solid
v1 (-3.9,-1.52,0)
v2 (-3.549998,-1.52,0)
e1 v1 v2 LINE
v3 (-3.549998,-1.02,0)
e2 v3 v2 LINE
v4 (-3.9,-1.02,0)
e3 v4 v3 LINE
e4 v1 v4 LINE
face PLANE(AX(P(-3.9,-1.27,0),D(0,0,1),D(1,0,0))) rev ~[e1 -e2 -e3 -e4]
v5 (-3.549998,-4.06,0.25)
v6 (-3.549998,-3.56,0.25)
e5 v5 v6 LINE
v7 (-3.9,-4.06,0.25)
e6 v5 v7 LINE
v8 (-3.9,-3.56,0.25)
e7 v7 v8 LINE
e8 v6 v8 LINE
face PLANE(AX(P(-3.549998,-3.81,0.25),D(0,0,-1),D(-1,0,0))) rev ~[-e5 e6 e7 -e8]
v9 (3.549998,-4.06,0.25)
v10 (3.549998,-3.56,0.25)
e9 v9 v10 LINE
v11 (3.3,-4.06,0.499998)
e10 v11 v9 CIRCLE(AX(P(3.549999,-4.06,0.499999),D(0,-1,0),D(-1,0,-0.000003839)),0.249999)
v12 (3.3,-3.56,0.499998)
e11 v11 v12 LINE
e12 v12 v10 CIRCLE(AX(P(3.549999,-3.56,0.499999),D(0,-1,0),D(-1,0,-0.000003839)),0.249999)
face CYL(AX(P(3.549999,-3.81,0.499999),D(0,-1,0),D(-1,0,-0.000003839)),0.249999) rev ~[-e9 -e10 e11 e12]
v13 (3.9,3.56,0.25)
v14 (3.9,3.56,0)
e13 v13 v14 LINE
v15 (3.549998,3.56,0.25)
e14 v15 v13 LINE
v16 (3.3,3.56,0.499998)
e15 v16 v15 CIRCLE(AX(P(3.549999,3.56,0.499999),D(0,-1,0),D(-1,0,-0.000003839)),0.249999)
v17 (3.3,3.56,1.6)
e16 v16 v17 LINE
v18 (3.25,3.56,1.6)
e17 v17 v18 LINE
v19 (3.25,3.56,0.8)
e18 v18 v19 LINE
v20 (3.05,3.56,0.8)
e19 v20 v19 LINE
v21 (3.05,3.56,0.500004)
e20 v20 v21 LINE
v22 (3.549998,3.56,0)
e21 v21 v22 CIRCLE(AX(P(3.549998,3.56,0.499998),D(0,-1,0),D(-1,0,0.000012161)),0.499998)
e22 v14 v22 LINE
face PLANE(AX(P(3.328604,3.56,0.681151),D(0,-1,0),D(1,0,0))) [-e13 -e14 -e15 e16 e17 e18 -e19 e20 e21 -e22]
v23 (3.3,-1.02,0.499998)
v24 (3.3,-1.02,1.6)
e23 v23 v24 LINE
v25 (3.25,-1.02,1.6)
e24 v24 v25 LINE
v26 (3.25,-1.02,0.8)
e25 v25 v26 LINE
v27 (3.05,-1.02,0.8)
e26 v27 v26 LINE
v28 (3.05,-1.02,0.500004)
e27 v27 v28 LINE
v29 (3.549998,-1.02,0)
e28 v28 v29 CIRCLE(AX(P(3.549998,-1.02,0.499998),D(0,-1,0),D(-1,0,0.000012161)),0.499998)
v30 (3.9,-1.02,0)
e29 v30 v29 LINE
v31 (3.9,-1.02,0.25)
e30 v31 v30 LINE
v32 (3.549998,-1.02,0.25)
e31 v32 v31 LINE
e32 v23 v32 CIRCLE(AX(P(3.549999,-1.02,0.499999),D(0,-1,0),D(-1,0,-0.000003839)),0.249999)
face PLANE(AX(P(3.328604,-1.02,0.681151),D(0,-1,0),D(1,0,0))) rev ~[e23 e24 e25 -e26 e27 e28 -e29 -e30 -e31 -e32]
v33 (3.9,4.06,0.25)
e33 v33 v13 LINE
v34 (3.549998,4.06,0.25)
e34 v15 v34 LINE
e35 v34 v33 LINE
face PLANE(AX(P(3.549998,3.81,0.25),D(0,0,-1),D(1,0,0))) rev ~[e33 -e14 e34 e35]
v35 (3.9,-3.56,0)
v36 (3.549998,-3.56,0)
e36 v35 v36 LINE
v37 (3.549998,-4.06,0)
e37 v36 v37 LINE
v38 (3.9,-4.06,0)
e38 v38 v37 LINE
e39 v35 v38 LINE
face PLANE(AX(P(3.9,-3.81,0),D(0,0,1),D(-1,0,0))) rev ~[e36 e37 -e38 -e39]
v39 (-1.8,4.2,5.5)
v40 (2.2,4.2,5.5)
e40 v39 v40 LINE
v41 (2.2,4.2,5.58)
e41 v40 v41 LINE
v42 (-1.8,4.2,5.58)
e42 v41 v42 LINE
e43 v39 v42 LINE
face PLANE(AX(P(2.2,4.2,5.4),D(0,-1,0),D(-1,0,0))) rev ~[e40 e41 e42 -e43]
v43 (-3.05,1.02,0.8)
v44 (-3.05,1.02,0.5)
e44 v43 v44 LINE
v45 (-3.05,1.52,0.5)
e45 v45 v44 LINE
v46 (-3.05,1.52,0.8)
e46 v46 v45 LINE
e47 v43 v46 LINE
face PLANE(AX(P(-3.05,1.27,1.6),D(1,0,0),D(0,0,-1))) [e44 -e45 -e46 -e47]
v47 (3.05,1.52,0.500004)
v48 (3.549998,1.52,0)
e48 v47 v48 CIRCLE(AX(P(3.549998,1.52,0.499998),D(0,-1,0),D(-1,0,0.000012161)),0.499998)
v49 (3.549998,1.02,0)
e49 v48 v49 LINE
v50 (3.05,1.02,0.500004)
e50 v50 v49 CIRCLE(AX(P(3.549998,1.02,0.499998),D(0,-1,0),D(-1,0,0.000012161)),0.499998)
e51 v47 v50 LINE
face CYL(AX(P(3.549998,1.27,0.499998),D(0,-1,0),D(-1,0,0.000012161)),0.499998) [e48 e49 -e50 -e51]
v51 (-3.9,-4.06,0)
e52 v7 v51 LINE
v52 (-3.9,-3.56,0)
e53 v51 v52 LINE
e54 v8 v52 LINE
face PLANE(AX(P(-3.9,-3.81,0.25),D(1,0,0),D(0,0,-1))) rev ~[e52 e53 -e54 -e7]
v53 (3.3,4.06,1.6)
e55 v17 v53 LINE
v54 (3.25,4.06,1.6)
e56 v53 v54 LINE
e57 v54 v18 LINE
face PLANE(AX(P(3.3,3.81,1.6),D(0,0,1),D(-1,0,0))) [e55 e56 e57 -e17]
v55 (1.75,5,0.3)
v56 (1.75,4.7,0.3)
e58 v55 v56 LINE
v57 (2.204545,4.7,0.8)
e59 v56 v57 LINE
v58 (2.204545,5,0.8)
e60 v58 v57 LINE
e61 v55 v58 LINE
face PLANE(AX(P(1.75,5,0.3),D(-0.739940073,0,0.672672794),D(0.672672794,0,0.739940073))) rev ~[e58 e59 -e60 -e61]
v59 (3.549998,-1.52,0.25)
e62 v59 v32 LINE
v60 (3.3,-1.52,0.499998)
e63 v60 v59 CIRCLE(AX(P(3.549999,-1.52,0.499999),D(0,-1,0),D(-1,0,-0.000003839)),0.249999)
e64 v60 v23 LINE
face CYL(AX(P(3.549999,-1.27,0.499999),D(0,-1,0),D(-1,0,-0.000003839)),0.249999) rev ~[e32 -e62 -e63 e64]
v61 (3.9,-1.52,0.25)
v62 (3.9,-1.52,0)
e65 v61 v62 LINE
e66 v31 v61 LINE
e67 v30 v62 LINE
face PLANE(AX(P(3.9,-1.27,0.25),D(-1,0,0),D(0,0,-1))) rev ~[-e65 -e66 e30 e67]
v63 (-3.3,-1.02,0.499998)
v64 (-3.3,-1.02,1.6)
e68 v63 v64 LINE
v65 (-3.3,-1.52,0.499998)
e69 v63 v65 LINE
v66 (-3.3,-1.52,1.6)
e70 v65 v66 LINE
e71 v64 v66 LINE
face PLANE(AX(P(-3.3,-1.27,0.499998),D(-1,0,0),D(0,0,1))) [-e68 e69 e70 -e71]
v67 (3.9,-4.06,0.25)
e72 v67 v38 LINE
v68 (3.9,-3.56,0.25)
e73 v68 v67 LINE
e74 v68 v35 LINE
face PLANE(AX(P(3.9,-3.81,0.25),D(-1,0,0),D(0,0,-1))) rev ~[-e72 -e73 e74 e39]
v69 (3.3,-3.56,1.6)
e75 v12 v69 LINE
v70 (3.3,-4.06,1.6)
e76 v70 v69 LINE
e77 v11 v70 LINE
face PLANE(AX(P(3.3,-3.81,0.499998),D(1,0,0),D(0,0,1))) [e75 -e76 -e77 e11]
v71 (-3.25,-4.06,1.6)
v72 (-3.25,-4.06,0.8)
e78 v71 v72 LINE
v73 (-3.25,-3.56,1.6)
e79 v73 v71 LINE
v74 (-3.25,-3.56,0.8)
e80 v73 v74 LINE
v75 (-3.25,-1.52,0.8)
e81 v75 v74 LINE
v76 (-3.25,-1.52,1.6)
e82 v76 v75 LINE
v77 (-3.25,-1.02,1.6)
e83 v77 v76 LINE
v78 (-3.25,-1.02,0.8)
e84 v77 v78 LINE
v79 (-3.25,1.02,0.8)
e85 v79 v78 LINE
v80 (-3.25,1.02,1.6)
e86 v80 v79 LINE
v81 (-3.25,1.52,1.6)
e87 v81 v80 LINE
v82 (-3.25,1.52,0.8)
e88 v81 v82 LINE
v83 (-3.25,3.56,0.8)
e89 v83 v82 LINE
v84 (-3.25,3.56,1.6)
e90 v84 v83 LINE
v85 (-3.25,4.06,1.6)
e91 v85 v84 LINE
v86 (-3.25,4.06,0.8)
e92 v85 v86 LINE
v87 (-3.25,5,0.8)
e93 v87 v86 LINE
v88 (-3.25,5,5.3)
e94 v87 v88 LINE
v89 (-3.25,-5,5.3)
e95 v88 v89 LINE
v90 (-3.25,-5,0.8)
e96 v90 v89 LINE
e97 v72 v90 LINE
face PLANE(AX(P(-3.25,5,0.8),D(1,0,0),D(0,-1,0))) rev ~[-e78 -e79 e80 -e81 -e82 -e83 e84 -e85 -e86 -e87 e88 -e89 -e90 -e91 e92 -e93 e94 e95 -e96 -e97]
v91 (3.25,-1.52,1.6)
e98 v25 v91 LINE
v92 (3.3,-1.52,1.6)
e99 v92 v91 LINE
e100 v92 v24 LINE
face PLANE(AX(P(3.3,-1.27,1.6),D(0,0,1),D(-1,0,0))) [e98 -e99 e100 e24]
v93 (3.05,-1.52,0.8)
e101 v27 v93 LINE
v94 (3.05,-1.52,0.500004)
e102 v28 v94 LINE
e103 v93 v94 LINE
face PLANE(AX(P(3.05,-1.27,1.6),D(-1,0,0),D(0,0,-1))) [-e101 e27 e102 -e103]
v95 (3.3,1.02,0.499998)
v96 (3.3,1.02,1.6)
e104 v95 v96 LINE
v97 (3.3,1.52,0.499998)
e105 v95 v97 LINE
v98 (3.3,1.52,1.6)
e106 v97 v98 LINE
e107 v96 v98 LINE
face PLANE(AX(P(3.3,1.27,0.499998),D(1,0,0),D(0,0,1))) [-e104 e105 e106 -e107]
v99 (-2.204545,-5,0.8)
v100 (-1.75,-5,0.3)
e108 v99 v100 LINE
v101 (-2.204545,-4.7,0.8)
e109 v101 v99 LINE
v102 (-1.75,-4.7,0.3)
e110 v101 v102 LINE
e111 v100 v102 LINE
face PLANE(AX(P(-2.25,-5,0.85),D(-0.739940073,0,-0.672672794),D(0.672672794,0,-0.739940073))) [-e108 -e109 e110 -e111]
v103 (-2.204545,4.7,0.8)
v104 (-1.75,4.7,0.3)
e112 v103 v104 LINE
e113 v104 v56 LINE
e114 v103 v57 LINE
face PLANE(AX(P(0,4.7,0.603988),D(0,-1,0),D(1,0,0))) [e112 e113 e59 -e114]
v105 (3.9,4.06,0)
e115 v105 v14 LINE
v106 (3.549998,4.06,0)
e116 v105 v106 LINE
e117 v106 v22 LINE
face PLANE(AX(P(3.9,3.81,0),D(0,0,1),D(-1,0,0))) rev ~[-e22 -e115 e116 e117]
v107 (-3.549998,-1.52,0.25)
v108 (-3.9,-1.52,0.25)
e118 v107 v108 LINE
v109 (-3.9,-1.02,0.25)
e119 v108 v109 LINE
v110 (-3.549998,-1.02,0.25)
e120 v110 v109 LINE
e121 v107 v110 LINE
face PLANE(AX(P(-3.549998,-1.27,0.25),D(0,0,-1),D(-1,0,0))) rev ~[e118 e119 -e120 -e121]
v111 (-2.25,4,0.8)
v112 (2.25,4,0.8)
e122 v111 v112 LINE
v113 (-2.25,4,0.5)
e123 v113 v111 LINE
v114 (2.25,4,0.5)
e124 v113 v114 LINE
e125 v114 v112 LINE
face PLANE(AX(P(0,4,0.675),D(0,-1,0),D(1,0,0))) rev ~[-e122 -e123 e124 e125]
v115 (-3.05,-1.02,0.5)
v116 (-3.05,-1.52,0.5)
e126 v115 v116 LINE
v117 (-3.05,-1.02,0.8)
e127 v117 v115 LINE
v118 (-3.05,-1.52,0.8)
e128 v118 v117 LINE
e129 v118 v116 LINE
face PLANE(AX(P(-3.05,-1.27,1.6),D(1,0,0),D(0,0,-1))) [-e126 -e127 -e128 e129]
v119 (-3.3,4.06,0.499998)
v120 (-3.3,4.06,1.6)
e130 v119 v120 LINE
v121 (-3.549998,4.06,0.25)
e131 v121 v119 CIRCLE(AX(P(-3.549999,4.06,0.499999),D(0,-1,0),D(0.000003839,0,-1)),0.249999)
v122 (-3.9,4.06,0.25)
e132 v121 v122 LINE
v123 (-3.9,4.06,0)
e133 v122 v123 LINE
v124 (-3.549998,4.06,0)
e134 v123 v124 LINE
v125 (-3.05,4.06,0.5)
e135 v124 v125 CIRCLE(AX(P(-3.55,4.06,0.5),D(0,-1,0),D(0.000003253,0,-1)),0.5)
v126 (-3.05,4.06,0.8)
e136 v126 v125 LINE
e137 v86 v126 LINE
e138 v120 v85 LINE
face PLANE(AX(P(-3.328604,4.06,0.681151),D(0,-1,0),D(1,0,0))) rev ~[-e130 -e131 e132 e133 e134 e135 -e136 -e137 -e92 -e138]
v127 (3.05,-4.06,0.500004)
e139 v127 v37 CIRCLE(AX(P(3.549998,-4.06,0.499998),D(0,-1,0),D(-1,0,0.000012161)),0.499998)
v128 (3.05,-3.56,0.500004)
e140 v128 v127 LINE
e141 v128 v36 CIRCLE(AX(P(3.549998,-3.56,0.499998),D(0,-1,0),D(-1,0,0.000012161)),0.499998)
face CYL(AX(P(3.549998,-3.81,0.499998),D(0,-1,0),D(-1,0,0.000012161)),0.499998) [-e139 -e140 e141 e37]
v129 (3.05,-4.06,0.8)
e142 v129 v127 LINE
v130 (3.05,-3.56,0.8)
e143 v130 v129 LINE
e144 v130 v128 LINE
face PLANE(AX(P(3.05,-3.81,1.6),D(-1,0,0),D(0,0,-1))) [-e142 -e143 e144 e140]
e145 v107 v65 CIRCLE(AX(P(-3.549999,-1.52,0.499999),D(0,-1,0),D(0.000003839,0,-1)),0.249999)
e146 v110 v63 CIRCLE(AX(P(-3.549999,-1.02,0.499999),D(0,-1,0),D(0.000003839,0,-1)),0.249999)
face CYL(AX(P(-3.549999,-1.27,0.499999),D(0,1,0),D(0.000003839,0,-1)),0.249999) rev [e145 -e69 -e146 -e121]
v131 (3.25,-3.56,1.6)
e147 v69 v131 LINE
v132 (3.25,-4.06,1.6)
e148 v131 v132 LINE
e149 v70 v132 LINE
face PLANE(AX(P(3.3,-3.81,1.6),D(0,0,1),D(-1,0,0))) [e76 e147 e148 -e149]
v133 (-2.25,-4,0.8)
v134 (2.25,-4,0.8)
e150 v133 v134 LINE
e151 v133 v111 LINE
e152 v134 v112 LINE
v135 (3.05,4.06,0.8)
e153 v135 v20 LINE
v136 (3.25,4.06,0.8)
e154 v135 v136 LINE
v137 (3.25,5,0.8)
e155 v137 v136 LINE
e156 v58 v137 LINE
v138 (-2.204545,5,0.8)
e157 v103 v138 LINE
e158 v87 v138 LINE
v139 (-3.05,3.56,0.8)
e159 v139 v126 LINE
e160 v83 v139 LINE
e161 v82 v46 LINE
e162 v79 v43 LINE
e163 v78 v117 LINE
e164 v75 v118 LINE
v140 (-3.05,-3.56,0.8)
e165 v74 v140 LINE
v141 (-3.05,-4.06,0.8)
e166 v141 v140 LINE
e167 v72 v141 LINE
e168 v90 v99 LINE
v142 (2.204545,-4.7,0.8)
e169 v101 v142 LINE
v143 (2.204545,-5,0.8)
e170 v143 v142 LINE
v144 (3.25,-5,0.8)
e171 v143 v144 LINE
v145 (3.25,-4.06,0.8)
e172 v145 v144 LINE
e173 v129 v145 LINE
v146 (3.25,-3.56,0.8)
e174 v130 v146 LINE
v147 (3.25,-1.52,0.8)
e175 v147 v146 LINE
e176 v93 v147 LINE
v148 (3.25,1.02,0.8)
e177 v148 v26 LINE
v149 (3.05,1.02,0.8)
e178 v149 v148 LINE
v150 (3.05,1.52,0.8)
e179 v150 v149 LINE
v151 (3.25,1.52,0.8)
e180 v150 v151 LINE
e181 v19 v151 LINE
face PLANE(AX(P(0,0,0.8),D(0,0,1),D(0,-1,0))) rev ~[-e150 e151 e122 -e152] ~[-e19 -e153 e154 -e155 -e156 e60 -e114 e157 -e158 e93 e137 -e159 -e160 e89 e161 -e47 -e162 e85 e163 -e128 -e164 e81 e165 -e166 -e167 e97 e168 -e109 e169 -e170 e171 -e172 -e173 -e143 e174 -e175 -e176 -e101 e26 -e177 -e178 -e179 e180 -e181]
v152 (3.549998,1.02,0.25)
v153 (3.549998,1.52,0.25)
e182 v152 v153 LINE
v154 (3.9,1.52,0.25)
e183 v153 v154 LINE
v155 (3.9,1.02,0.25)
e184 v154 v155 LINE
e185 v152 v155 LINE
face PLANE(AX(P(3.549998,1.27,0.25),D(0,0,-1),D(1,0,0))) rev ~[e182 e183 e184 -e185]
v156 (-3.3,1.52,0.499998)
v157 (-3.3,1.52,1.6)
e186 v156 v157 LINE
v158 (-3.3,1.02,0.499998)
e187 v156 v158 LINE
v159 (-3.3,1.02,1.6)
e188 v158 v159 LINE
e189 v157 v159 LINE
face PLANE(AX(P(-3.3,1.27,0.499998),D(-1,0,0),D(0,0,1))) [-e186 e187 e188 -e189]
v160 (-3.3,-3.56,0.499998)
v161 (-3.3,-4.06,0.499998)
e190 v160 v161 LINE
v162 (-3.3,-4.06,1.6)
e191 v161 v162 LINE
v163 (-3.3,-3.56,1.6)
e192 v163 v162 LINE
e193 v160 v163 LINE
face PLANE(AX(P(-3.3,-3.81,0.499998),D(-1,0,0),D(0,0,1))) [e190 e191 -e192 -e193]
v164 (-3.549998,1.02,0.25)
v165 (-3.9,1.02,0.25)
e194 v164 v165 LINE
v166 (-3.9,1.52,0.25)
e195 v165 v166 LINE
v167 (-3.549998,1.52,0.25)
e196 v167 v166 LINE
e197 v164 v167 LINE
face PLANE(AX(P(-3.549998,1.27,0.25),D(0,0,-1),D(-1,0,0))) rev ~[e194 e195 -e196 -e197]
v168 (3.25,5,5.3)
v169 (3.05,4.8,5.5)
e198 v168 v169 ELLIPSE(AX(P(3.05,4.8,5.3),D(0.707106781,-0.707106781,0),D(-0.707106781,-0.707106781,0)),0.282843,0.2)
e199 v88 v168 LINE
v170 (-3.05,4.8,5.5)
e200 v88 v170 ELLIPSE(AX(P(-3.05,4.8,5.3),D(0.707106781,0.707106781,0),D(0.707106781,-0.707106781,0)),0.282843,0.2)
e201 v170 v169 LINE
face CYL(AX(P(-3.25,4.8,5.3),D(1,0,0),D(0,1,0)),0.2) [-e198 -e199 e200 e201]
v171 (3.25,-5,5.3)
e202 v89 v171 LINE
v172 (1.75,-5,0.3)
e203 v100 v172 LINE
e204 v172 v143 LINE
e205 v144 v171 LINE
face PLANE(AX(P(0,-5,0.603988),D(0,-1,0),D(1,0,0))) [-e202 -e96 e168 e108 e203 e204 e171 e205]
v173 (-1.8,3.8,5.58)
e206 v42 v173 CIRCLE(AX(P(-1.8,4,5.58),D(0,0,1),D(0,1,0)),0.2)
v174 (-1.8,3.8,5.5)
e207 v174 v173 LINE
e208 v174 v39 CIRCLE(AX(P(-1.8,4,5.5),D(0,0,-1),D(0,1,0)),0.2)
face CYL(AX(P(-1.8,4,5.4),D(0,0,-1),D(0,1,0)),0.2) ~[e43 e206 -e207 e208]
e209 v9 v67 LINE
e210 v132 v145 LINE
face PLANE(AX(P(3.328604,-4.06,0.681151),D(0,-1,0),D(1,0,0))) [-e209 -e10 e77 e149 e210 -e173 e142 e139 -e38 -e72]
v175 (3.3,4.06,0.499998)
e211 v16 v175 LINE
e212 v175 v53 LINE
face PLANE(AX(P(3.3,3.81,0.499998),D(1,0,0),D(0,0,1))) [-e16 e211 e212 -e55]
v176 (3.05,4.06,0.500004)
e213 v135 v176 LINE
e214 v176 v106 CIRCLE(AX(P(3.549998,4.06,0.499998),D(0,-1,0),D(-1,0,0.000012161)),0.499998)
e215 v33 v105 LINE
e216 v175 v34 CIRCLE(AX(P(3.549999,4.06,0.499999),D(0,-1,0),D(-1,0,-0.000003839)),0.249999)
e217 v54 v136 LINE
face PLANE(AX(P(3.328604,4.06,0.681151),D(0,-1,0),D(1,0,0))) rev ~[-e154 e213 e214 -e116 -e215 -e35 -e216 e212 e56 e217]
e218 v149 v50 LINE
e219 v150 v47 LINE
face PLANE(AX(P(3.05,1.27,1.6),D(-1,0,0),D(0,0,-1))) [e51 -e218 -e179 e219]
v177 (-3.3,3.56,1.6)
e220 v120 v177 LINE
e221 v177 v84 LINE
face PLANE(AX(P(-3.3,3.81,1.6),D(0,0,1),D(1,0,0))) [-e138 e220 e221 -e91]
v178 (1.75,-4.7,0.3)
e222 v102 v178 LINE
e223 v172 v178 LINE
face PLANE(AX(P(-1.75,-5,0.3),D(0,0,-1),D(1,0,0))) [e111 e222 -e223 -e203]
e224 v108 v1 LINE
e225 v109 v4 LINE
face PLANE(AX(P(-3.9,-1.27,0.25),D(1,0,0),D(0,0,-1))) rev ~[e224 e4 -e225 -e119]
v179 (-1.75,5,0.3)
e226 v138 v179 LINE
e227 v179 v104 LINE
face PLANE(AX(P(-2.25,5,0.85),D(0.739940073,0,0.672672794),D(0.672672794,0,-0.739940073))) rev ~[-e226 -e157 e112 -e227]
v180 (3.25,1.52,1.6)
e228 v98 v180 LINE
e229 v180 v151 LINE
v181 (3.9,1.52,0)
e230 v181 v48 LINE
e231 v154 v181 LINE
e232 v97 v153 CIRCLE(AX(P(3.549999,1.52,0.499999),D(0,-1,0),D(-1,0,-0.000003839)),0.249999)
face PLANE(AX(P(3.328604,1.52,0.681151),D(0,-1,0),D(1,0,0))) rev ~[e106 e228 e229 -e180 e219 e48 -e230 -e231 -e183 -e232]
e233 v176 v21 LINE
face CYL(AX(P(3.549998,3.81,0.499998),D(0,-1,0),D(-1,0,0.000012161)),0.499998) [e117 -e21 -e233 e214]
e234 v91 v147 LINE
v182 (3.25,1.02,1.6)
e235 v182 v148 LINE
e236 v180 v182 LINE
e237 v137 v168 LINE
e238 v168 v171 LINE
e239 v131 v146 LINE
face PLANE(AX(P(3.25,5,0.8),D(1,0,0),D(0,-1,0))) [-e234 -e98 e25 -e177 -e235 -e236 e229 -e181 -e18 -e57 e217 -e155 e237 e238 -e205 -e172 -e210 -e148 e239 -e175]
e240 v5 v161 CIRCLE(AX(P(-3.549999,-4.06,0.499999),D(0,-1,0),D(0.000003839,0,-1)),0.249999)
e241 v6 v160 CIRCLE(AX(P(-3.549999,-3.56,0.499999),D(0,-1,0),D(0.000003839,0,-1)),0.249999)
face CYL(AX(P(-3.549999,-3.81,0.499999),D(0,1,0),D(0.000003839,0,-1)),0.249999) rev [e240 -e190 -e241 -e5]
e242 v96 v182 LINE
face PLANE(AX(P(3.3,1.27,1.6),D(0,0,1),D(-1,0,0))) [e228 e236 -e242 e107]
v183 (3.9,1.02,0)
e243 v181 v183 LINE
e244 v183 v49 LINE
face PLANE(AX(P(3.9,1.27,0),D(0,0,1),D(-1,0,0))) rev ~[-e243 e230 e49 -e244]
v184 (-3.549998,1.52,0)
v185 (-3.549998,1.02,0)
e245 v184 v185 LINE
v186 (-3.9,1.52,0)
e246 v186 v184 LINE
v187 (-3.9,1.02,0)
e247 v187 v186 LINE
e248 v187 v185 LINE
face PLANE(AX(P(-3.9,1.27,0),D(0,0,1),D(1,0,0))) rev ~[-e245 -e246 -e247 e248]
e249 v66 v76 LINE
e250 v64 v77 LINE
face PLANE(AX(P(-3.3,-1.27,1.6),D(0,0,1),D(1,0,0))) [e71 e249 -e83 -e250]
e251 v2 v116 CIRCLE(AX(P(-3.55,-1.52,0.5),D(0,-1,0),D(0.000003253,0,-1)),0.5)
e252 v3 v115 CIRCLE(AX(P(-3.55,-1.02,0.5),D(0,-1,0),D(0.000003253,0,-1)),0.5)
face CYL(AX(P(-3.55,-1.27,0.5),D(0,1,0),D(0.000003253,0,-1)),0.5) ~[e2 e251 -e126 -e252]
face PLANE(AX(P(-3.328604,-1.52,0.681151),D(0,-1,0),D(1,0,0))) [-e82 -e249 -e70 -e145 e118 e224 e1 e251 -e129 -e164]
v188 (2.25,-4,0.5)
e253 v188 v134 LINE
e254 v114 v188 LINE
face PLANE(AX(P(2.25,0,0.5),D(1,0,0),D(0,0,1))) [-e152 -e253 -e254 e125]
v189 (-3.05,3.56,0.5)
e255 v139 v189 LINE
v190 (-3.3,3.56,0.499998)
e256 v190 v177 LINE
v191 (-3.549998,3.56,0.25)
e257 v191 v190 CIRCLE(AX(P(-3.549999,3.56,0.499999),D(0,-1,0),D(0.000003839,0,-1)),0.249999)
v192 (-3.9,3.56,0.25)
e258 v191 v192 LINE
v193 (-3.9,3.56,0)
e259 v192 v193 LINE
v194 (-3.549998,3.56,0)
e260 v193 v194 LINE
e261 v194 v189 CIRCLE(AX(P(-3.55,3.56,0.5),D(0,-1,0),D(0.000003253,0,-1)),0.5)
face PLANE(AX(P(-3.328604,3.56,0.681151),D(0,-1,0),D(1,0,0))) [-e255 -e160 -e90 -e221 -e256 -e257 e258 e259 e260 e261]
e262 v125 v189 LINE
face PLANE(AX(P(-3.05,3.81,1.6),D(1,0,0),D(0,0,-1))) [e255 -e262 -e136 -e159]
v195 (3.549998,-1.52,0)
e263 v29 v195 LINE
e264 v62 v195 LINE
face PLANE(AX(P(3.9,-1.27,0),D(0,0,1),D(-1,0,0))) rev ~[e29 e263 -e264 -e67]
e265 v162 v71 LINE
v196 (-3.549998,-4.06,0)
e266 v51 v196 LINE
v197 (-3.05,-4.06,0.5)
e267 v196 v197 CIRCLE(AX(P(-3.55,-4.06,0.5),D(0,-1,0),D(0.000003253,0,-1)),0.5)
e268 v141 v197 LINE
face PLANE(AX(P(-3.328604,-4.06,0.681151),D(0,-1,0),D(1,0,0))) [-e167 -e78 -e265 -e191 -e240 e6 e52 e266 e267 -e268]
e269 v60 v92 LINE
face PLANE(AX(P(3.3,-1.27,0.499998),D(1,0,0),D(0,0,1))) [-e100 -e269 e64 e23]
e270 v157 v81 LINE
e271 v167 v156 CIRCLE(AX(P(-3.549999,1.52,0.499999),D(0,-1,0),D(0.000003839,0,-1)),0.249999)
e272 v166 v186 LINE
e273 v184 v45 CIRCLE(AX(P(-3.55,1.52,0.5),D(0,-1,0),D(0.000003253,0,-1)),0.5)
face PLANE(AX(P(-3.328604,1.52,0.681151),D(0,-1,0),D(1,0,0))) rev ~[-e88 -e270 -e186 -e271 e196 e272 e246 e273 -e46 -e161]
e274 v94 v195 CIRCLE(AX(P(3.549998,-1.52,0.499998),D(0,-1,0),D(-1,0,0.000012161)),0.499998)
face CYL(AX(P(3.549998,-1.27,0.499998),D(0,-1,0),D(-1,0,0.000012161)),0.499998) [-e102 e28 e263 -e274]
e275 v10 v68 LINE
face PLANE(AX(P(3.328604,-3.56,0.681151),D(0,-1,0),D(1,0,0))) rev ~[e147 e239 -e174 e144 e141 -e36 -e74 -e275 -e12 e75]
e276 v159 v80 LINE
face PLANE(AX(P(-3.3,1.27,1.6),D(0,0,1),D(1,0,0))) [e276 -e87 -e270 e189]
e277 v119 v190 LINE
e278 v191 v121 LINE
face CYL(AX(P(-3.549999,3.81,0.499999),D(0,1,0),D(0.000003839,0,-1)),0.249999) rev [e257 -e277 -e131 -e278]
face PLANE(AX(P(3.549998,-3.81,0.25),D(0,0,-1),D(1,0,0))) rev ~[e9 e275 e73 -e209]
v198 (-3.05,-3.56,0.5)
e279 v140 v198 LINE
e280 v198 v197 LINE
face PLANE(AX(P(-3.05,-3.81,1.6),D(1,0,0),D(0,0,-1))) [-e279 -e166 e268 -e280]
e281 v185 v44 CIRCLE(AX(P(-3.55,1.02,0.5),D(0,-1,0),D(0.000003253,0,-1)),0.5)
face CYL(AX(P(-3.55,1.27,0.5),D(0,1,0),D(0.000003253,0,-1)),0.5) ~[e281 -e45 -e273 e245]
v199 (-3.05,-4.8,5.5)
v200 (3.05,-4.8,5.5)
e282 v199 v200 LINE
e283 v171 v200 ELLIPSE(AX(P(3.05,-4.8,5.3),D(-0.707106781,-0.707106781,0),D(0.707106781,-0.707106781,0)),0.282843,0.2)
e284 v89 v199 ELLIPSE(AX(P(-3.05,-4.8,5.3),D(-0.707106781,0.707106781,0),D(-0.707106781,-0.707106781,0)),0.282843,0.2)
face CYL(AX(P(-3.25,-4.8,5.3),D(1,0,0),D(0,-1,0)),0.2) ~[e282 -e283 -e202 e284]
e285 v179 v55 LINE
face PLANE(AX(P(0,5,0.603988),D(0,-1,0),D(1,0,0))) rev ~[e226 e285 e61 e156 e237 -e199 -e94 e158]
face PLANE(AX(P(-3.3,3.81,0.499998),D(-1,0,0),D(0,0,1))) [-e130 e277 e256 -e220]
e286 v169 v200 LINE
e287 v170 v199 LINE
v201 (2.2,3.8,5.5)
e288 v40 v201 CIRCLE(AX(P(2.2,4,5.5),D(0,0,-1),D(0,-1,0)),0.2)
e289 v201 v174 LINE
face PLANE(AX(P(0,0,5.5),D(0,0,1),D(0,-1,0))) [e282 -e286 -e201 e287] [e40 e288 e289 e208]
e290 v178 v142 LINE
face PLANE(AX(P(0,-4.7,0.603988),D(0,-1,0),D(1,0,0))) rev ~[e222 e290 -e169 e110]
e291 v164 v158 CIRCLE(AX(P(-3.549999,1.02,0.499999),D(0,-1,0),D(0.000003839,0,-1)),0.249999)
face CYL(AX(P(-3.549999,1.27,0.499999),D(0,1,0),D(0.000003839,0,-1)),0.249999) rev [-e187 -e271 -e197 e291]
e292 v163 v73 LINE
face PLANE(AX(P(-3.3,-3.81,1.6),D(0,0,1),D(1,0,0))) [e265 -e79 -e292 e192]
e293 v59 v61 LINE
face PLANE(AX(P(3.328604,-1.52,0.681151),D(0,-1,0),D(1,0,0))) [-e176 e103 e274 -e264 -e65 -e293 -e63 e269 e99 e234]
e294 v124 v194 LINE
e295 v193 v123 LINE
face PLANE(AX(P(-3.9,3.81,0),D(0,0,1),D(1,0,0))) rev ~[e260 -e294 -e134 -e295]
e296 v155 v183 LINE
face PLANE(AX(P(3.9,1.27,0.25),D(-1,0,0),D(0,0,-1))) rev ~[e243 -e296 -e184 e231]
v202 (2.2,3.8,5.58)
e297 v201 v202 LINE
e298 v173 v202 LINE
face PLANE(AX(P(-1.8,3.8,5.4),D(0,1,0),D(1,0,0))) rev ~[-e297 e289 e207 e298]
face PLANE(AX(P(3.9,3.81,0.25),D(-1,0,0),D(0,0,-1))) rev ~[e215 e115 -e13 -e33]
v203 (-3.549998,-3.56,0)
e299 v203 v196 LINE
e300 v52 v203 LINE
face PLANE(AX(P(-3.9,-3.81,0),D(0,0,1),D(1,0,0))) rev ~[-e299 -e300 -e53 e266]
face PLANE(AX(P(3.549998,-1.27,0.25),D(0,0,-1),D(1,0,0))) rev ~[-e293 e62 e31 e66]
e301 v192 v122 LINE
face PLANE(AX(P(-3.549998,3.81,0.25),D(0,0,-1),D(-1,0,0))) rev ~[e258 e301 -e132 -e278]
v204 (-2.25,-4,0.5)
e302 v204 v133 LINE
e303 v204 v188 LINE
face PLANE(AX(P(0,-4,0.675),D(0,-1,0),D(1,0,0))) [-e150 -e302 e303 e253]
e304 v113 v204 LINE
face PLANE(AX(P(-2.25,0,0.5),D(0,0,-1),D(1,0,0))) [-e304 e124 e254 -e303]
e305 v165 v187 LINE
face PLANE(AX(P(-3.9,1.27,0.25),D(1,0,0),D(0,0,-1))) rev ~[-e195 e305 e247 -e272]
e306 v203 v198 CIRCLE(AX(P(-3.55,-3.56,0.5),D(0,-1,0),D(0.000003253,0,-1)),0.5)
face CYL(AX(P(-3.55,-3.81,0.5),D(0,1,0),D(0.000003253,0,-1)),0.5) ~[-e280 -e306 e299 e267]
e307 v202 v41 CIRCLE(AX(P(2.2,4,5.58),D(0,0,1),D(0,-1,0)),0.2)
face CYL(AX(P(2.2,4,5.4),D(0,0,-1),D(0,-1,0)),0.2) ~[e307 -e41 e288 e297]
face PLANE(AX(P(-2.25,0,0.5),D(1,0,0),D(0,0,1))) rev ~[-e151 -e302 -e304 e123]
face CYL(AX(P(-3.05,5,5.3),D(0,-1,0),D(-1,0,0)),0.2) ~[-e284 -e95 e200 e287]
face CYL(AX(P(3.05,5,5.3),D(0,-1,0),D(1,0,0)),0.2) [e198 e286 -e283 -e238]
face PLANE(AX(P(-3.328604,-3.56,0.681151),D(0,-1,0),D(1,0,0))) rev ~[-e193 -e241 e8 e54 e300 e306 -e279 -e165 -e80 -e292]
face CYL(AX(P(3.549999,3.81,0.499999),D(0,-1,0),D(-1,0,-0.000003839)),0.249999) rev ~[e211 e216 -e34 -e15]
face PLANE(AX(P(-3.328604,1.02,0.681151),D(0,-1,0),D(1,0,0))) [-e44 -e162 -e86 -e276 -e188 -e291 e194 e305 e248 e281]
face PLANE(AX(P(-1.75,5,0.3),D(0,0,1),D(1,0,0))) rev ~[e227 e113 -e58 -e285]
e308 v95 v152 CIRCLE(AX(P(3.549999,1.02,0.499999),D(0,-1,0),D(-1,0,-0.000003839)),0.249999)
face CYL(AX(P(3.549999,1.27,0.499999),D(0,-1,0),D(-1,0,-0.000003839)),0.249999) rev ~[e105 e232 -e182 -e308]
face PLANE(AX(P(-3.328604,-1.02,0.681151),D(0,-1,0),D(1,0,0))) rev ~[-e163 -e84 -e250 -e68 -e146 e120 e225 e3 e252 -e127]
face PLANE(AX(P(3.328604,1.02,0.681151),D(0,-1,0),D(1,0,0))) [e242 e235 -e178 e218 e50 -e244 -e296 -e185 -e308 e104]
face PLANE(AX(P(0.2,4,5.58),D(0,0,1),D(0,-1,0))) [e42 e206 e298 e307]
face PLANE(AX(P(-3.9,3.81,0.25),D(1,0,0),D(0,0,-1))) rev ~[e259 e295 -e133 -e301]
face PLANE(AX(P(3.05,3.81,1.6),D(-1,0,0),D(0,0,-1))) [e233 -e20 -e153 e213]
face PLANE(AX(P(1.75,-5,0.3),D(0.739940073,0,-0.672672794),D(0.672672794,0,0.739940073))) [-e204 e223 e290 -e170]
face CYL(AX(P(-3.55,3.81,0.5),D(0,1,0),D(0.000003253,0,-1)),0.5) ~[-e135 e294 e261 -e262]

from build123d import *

# Parameters (mm, degrees)
PAD004_DEPTH = 0.25
PAD003_DEPTH = 0.25
PAD005_DEPTH = 0.25
PAD008_DEPTH = 0.3
SKETCH008_W  = 4.5
SKETCH008_H  = 0.35
PAD006_DEPTH = 4
PAD001_DEPTH = 0.18
PAD002_DEPTH = 0.25
PAD007_DEPTH = 0.3
SKETCH_W     = 10
SKETCH_H     = 6.5
PAD_DEPTH    = 4.7
POCKET_DEPTH = 0.5
FILLET_R     = 0.2


with BuildPart() as pad004:
    # Sketch006 → Pad004 (new body, symmetric)
    with BuildSketch(Plane.XZ.offset(1.27)):
        with BuildLine():
            Line((-3.9, 0), (-3.549998, 0))
            ThreePointArc((-3.549998, 0), (-3.196446, 0.146447), (-3.05, 0.5))
            Line((-3.05, 1.6), (-3.05, 0.5))
            Line((-3.3, 1.6), (-3.05, 1.6))
            Line((-3.3, 0.499998), (-3.3, 1.6))
            ThreePointArc((-3.549998, 0.25), (-3.373223, 0.323223), (-3.3, 0.499998))
            Line((-3.549998, 0.25), (-3.9, 0.25))
            Line((-3.9, 0.25), (-3.9, 0))
        make_face()
        with BuildLine():
            Line((3.3, 1.6), (3.05, 1.6))
            Line((3.05, 1.6), (3.05, 0.500004))
            ThreePointArc((3.05, 0.500004), (3.196444, 0.146448), (3.549998, 0))
            Line((3.9, 0), (3.549998, 0))
            Line((3.9, 0.25), (3.9, 0))
            Line((3.549998, 0.25), (3.9, 0.25))
            ThreePointArc((3.3, 0.499998), (3.373223, 0.323223), (3.549998, 0.25))
            Line((3.3, 0.499998), (3.3, 1.6))
        make_face()
    extrude(amount=PAD004_DEPTH, both=True)


with BuildPart() as pad003:
    # Sketch005 → Pad003 (new body, symmetric)
    with BuildSketch(Plane.XZ.offset(-3.81)):
        with BuildLine():
            Line((-3.9, 0), (-3.549998, 0))
            ThreePointArc((-3.549998, 0), (-3.196446, 0.146447), (-3.05, 0.5))
            Line((-3.05, 1.6), (-3.05, 0.5))
            Line((-3.3, 1.6), (-3.05, 1.6))
            Line((-3.3, 0.499998), (-3.3, 1.6))
            ThreePointArc((-3.549998, 0.25), (-3.373223, 0.323223), (-3.3, 0.499998))
            Line((-3.549998, 0.25), (-3.9, 0.25))
            Line((-3.9, 0.25), (-3.9, 0))
        make_face()
        with BuildLine():
            Line((3.3, 1.6), (3.05, 1.6))
            Line((3.05, 1.6), (3.05, 0.500004))
            ThreePointArc((3.05, 0.500004), (3.196444, 0.146448), (3.549998, 0))
            Line((3.9, 0), (3.549998, 0))
            Line((3.9, 0.25), (3.9, 0))
            Line((3.549998, 0.25), (3.9, 0.25))
            ThreePointArc((3.3, 0.499998), (3.373223, 0.323223), (3.549998, 0.25))
            Line((3.3, 0.499998), (3.3, 1.6))
        make_face()
    extrude(amount=PAD003_DEPTH, both=True)


with BuildPart() as pad005:
    # Sketch007 → Pad005 (new body, symmetric)
    with BuildSketch(Plane.XZ.offset(3.81)):
        with BuildLine():
            Line((-3.9, 0), (-3.549998, 0))
            ThreePointArc((-3.549998, 0), (-3.196446, 0.146447), (-3.05, 0.5))
            Line((-3.05, 1.6), (-3.05, 0.5))
            Line((-3.3, 1.6), (-3.05, 1.6))
            Line((-3.3, 0.499998), (-3.3, 1.6))
            ThreePointArc((-3.549998, 0.25), (-3.373223, 0.323223), (-3.3, 0.499998))
            Line((-3.549998, 0.25), (-3.9, 0.25))
            Line((-3.9, 0.25), (-3.9, 0))
        make_face()
        with BuildLine():
            Line((3.3, 1.6), (3.05, 1.6))
            Line((3.05, 1.6), (3.05, 0.500004))
            ThreePointArc((3.05, 0.500004), (3.196444, 0.146448), (3.549998, 0))
            Line((3.9, 0), (3.549998, 0))
            Line((3.9, 0.25), (3.9, 0))
            Line((3.549998, 0.25), (3.9, 0.25))
            ThreePointArc((3.3, 0.499998), (3.373223, 0.323223), (3.549998, 0.25))
            Line((3.3, 0.499998), (3.3, 1.6))
        make_face()
    extrude(amount=PAD005_DEPTH, both=True)


with BuildPart() as pad008:
    # Sketch010 → Pad008 (new body)
    with BuildSketch(Plane.XZ.offset(-5)):
        Polygon((-1.75, 0.3), (1.75, 0.3), (2.25, 0.85), (-2.25, 0.85), align=None)
    extrude(amount=PAD008_DEPTH)


with BuildPart() as pad006:
    # Sketch008 → Pad006 (new body, symmetric)
    with BuildSketch(Plane.XZ):
        with Locations((0, 0.675)):
            Rectangle(SKETCH008_W, SKETCH008_H)
    extrude(amount=PAD006_DEPTH, both=True)


with BuildPart() as pad001:
    # Sketch001 → Pad001 (new body)
    with BuildSketch(Plane(origin=(0, 0, 5.4), x_dir=(0, -1, 0), z_dir=(0, 0, 1))):
        with BuildLine():
            Line((-3.8, -1.8), (-3.8, 2.2))
            ThreePointArc((-3.8, 2.2), (-4, 2.4), (-4.2, 2.2))
            Line((-4.2, 2.2), (-4.2, -1.8))
            ThreePointArc((-4.2, -1.8), (-4, -2), (-3.8, -1.8))
        make_face()
    extrude(amount=PAD001_DEPTH)


with BuildPart() as pad002:
    # Sketch004 → Pad002 (new body, symmetric)
    with BuildSketch(Plane.XZ.offset(-1.27)):
        with BuildLine():
            Line((-3.9, 0), (-3.549998, 0))
            ThreePointArc((-3.549998, 0), (-3.196446, 0.146447), (-3.05, 0.5))
            Line((-3.05, 1.6), (-3.05, 0.5))
            Line((-3.3, 1.6), (-3.05, 1.6))
            Line((-3.3, 0.499998), (-3.3, 1.6))
            ThreePointArc((-3.549998, 0.25), (-3.373223, 0.323223), (-3.3, 0.499998))
            Line((-3.549998, 0.25), (-3.9, 0.25))
            Line((-3.9, 0.25), (-3.9, 0))
        make_face()
        with BuildLine():
            Line((3.3, 1.6), (3.05, 1.6))
            Line((3.05, 1.6), (3.05, 0.500004))
            ThreePointArc((3.05, 0.500004), (3.196444, 0.146448), (3.549998, 0))
            Line((3.9, 0), (3.549998, 0))
            Line((3.9, 0.25), (3.9, 0))
            Line((3.549998, 0.25), (3.9, 0.25))
            ThreePointArc((3.3, 0.499998), (3.373223, 0.323223), (3.549998, 0.25))
            Line((3.3, 0.499998), (3.3, 1.6))
        make_face()
    extrude(amount=PAD002_DEPTH, both=True)


with BuildPart() as pad007:
    # Sketch009 → Pad007 (new body)
    with BuildSketch(Plane.XZ.offset(5)):
        Polygon((-1.75, 0.3), (1.75, 0.3), (2.25, 0.85), (-2.25, 0.85), align=None)
    extrude(amount=-PAD007_DEPTH)


with BuildPart() as relay_dpdt_omron_g6k_2f:
    # Sketch → Pad (new body)
    with BuildSketch(Plane(origin=(0, 0, 0.8), x_dir=(0, -1, 0), z_dir=(0, 0, 1))):
        Rectangle(SKETCH_W, SKETCH_H)
    extrude(amount=PAD_DEPTH)

    # Sketch003 → Pocket (cut)
    with BuildSketch(Plane(origin=(0, 0, 5.5), x_dir=(0, -1, 0), z_dir=(0, 0, 1))):
        with BuildLine():
            ThreePointArc((-0.318267, 7.6), (0.223846, 7.813173), (0.45, 8.35))
            Line((0.45, 8.35), (-2.05, 8.35))
            Line((-2.05, 8.35), (-2.05, 7.6))
            Line((-2.05, 7.6), (-0.318267, 7.6))
        make_face()
        with BuildLine():
            Line((9.6, -0.75), (12.1, -0.75))
            Line((12.1, -0.75), (12.1, 0))
            Line((10.285847, 0), (12.1, 0))
            ThreePointArc((10.285847, 0), (9.797313, -0.241845), (9.6, -0.75))
        make_face()
    extrude(amount=-POCKET_DEPTH, mode=Mode.SUBTRACT)

    # Fillet
    fillet_edges = [relay_dpdt_omron_g6k_2f.edges().sort_by_distance(p)[0] for p in [
        (-3.25, 0, 5.5),
        (0, -5, 5.5),
        (3.25, 0, 5.5),
        (0, 5, 5.5),
    ]]
    fillet(fillet_edges, radius=FILLET_R)

    # Fillet_mp_cp: union Pad004, Pad003, Pad005, Pad008, Pad006, Pad001, Pad002, Pad007
    add(pad004.part)
    add(pad003.part)
    add(pad005.part)
    add(pad008.part)
    add(pad006.part)
    add(pad001.part)
    add(pad002.part)
    add(pad007.part)


solid = relay_dpdt_omron_g6k_2f.part
